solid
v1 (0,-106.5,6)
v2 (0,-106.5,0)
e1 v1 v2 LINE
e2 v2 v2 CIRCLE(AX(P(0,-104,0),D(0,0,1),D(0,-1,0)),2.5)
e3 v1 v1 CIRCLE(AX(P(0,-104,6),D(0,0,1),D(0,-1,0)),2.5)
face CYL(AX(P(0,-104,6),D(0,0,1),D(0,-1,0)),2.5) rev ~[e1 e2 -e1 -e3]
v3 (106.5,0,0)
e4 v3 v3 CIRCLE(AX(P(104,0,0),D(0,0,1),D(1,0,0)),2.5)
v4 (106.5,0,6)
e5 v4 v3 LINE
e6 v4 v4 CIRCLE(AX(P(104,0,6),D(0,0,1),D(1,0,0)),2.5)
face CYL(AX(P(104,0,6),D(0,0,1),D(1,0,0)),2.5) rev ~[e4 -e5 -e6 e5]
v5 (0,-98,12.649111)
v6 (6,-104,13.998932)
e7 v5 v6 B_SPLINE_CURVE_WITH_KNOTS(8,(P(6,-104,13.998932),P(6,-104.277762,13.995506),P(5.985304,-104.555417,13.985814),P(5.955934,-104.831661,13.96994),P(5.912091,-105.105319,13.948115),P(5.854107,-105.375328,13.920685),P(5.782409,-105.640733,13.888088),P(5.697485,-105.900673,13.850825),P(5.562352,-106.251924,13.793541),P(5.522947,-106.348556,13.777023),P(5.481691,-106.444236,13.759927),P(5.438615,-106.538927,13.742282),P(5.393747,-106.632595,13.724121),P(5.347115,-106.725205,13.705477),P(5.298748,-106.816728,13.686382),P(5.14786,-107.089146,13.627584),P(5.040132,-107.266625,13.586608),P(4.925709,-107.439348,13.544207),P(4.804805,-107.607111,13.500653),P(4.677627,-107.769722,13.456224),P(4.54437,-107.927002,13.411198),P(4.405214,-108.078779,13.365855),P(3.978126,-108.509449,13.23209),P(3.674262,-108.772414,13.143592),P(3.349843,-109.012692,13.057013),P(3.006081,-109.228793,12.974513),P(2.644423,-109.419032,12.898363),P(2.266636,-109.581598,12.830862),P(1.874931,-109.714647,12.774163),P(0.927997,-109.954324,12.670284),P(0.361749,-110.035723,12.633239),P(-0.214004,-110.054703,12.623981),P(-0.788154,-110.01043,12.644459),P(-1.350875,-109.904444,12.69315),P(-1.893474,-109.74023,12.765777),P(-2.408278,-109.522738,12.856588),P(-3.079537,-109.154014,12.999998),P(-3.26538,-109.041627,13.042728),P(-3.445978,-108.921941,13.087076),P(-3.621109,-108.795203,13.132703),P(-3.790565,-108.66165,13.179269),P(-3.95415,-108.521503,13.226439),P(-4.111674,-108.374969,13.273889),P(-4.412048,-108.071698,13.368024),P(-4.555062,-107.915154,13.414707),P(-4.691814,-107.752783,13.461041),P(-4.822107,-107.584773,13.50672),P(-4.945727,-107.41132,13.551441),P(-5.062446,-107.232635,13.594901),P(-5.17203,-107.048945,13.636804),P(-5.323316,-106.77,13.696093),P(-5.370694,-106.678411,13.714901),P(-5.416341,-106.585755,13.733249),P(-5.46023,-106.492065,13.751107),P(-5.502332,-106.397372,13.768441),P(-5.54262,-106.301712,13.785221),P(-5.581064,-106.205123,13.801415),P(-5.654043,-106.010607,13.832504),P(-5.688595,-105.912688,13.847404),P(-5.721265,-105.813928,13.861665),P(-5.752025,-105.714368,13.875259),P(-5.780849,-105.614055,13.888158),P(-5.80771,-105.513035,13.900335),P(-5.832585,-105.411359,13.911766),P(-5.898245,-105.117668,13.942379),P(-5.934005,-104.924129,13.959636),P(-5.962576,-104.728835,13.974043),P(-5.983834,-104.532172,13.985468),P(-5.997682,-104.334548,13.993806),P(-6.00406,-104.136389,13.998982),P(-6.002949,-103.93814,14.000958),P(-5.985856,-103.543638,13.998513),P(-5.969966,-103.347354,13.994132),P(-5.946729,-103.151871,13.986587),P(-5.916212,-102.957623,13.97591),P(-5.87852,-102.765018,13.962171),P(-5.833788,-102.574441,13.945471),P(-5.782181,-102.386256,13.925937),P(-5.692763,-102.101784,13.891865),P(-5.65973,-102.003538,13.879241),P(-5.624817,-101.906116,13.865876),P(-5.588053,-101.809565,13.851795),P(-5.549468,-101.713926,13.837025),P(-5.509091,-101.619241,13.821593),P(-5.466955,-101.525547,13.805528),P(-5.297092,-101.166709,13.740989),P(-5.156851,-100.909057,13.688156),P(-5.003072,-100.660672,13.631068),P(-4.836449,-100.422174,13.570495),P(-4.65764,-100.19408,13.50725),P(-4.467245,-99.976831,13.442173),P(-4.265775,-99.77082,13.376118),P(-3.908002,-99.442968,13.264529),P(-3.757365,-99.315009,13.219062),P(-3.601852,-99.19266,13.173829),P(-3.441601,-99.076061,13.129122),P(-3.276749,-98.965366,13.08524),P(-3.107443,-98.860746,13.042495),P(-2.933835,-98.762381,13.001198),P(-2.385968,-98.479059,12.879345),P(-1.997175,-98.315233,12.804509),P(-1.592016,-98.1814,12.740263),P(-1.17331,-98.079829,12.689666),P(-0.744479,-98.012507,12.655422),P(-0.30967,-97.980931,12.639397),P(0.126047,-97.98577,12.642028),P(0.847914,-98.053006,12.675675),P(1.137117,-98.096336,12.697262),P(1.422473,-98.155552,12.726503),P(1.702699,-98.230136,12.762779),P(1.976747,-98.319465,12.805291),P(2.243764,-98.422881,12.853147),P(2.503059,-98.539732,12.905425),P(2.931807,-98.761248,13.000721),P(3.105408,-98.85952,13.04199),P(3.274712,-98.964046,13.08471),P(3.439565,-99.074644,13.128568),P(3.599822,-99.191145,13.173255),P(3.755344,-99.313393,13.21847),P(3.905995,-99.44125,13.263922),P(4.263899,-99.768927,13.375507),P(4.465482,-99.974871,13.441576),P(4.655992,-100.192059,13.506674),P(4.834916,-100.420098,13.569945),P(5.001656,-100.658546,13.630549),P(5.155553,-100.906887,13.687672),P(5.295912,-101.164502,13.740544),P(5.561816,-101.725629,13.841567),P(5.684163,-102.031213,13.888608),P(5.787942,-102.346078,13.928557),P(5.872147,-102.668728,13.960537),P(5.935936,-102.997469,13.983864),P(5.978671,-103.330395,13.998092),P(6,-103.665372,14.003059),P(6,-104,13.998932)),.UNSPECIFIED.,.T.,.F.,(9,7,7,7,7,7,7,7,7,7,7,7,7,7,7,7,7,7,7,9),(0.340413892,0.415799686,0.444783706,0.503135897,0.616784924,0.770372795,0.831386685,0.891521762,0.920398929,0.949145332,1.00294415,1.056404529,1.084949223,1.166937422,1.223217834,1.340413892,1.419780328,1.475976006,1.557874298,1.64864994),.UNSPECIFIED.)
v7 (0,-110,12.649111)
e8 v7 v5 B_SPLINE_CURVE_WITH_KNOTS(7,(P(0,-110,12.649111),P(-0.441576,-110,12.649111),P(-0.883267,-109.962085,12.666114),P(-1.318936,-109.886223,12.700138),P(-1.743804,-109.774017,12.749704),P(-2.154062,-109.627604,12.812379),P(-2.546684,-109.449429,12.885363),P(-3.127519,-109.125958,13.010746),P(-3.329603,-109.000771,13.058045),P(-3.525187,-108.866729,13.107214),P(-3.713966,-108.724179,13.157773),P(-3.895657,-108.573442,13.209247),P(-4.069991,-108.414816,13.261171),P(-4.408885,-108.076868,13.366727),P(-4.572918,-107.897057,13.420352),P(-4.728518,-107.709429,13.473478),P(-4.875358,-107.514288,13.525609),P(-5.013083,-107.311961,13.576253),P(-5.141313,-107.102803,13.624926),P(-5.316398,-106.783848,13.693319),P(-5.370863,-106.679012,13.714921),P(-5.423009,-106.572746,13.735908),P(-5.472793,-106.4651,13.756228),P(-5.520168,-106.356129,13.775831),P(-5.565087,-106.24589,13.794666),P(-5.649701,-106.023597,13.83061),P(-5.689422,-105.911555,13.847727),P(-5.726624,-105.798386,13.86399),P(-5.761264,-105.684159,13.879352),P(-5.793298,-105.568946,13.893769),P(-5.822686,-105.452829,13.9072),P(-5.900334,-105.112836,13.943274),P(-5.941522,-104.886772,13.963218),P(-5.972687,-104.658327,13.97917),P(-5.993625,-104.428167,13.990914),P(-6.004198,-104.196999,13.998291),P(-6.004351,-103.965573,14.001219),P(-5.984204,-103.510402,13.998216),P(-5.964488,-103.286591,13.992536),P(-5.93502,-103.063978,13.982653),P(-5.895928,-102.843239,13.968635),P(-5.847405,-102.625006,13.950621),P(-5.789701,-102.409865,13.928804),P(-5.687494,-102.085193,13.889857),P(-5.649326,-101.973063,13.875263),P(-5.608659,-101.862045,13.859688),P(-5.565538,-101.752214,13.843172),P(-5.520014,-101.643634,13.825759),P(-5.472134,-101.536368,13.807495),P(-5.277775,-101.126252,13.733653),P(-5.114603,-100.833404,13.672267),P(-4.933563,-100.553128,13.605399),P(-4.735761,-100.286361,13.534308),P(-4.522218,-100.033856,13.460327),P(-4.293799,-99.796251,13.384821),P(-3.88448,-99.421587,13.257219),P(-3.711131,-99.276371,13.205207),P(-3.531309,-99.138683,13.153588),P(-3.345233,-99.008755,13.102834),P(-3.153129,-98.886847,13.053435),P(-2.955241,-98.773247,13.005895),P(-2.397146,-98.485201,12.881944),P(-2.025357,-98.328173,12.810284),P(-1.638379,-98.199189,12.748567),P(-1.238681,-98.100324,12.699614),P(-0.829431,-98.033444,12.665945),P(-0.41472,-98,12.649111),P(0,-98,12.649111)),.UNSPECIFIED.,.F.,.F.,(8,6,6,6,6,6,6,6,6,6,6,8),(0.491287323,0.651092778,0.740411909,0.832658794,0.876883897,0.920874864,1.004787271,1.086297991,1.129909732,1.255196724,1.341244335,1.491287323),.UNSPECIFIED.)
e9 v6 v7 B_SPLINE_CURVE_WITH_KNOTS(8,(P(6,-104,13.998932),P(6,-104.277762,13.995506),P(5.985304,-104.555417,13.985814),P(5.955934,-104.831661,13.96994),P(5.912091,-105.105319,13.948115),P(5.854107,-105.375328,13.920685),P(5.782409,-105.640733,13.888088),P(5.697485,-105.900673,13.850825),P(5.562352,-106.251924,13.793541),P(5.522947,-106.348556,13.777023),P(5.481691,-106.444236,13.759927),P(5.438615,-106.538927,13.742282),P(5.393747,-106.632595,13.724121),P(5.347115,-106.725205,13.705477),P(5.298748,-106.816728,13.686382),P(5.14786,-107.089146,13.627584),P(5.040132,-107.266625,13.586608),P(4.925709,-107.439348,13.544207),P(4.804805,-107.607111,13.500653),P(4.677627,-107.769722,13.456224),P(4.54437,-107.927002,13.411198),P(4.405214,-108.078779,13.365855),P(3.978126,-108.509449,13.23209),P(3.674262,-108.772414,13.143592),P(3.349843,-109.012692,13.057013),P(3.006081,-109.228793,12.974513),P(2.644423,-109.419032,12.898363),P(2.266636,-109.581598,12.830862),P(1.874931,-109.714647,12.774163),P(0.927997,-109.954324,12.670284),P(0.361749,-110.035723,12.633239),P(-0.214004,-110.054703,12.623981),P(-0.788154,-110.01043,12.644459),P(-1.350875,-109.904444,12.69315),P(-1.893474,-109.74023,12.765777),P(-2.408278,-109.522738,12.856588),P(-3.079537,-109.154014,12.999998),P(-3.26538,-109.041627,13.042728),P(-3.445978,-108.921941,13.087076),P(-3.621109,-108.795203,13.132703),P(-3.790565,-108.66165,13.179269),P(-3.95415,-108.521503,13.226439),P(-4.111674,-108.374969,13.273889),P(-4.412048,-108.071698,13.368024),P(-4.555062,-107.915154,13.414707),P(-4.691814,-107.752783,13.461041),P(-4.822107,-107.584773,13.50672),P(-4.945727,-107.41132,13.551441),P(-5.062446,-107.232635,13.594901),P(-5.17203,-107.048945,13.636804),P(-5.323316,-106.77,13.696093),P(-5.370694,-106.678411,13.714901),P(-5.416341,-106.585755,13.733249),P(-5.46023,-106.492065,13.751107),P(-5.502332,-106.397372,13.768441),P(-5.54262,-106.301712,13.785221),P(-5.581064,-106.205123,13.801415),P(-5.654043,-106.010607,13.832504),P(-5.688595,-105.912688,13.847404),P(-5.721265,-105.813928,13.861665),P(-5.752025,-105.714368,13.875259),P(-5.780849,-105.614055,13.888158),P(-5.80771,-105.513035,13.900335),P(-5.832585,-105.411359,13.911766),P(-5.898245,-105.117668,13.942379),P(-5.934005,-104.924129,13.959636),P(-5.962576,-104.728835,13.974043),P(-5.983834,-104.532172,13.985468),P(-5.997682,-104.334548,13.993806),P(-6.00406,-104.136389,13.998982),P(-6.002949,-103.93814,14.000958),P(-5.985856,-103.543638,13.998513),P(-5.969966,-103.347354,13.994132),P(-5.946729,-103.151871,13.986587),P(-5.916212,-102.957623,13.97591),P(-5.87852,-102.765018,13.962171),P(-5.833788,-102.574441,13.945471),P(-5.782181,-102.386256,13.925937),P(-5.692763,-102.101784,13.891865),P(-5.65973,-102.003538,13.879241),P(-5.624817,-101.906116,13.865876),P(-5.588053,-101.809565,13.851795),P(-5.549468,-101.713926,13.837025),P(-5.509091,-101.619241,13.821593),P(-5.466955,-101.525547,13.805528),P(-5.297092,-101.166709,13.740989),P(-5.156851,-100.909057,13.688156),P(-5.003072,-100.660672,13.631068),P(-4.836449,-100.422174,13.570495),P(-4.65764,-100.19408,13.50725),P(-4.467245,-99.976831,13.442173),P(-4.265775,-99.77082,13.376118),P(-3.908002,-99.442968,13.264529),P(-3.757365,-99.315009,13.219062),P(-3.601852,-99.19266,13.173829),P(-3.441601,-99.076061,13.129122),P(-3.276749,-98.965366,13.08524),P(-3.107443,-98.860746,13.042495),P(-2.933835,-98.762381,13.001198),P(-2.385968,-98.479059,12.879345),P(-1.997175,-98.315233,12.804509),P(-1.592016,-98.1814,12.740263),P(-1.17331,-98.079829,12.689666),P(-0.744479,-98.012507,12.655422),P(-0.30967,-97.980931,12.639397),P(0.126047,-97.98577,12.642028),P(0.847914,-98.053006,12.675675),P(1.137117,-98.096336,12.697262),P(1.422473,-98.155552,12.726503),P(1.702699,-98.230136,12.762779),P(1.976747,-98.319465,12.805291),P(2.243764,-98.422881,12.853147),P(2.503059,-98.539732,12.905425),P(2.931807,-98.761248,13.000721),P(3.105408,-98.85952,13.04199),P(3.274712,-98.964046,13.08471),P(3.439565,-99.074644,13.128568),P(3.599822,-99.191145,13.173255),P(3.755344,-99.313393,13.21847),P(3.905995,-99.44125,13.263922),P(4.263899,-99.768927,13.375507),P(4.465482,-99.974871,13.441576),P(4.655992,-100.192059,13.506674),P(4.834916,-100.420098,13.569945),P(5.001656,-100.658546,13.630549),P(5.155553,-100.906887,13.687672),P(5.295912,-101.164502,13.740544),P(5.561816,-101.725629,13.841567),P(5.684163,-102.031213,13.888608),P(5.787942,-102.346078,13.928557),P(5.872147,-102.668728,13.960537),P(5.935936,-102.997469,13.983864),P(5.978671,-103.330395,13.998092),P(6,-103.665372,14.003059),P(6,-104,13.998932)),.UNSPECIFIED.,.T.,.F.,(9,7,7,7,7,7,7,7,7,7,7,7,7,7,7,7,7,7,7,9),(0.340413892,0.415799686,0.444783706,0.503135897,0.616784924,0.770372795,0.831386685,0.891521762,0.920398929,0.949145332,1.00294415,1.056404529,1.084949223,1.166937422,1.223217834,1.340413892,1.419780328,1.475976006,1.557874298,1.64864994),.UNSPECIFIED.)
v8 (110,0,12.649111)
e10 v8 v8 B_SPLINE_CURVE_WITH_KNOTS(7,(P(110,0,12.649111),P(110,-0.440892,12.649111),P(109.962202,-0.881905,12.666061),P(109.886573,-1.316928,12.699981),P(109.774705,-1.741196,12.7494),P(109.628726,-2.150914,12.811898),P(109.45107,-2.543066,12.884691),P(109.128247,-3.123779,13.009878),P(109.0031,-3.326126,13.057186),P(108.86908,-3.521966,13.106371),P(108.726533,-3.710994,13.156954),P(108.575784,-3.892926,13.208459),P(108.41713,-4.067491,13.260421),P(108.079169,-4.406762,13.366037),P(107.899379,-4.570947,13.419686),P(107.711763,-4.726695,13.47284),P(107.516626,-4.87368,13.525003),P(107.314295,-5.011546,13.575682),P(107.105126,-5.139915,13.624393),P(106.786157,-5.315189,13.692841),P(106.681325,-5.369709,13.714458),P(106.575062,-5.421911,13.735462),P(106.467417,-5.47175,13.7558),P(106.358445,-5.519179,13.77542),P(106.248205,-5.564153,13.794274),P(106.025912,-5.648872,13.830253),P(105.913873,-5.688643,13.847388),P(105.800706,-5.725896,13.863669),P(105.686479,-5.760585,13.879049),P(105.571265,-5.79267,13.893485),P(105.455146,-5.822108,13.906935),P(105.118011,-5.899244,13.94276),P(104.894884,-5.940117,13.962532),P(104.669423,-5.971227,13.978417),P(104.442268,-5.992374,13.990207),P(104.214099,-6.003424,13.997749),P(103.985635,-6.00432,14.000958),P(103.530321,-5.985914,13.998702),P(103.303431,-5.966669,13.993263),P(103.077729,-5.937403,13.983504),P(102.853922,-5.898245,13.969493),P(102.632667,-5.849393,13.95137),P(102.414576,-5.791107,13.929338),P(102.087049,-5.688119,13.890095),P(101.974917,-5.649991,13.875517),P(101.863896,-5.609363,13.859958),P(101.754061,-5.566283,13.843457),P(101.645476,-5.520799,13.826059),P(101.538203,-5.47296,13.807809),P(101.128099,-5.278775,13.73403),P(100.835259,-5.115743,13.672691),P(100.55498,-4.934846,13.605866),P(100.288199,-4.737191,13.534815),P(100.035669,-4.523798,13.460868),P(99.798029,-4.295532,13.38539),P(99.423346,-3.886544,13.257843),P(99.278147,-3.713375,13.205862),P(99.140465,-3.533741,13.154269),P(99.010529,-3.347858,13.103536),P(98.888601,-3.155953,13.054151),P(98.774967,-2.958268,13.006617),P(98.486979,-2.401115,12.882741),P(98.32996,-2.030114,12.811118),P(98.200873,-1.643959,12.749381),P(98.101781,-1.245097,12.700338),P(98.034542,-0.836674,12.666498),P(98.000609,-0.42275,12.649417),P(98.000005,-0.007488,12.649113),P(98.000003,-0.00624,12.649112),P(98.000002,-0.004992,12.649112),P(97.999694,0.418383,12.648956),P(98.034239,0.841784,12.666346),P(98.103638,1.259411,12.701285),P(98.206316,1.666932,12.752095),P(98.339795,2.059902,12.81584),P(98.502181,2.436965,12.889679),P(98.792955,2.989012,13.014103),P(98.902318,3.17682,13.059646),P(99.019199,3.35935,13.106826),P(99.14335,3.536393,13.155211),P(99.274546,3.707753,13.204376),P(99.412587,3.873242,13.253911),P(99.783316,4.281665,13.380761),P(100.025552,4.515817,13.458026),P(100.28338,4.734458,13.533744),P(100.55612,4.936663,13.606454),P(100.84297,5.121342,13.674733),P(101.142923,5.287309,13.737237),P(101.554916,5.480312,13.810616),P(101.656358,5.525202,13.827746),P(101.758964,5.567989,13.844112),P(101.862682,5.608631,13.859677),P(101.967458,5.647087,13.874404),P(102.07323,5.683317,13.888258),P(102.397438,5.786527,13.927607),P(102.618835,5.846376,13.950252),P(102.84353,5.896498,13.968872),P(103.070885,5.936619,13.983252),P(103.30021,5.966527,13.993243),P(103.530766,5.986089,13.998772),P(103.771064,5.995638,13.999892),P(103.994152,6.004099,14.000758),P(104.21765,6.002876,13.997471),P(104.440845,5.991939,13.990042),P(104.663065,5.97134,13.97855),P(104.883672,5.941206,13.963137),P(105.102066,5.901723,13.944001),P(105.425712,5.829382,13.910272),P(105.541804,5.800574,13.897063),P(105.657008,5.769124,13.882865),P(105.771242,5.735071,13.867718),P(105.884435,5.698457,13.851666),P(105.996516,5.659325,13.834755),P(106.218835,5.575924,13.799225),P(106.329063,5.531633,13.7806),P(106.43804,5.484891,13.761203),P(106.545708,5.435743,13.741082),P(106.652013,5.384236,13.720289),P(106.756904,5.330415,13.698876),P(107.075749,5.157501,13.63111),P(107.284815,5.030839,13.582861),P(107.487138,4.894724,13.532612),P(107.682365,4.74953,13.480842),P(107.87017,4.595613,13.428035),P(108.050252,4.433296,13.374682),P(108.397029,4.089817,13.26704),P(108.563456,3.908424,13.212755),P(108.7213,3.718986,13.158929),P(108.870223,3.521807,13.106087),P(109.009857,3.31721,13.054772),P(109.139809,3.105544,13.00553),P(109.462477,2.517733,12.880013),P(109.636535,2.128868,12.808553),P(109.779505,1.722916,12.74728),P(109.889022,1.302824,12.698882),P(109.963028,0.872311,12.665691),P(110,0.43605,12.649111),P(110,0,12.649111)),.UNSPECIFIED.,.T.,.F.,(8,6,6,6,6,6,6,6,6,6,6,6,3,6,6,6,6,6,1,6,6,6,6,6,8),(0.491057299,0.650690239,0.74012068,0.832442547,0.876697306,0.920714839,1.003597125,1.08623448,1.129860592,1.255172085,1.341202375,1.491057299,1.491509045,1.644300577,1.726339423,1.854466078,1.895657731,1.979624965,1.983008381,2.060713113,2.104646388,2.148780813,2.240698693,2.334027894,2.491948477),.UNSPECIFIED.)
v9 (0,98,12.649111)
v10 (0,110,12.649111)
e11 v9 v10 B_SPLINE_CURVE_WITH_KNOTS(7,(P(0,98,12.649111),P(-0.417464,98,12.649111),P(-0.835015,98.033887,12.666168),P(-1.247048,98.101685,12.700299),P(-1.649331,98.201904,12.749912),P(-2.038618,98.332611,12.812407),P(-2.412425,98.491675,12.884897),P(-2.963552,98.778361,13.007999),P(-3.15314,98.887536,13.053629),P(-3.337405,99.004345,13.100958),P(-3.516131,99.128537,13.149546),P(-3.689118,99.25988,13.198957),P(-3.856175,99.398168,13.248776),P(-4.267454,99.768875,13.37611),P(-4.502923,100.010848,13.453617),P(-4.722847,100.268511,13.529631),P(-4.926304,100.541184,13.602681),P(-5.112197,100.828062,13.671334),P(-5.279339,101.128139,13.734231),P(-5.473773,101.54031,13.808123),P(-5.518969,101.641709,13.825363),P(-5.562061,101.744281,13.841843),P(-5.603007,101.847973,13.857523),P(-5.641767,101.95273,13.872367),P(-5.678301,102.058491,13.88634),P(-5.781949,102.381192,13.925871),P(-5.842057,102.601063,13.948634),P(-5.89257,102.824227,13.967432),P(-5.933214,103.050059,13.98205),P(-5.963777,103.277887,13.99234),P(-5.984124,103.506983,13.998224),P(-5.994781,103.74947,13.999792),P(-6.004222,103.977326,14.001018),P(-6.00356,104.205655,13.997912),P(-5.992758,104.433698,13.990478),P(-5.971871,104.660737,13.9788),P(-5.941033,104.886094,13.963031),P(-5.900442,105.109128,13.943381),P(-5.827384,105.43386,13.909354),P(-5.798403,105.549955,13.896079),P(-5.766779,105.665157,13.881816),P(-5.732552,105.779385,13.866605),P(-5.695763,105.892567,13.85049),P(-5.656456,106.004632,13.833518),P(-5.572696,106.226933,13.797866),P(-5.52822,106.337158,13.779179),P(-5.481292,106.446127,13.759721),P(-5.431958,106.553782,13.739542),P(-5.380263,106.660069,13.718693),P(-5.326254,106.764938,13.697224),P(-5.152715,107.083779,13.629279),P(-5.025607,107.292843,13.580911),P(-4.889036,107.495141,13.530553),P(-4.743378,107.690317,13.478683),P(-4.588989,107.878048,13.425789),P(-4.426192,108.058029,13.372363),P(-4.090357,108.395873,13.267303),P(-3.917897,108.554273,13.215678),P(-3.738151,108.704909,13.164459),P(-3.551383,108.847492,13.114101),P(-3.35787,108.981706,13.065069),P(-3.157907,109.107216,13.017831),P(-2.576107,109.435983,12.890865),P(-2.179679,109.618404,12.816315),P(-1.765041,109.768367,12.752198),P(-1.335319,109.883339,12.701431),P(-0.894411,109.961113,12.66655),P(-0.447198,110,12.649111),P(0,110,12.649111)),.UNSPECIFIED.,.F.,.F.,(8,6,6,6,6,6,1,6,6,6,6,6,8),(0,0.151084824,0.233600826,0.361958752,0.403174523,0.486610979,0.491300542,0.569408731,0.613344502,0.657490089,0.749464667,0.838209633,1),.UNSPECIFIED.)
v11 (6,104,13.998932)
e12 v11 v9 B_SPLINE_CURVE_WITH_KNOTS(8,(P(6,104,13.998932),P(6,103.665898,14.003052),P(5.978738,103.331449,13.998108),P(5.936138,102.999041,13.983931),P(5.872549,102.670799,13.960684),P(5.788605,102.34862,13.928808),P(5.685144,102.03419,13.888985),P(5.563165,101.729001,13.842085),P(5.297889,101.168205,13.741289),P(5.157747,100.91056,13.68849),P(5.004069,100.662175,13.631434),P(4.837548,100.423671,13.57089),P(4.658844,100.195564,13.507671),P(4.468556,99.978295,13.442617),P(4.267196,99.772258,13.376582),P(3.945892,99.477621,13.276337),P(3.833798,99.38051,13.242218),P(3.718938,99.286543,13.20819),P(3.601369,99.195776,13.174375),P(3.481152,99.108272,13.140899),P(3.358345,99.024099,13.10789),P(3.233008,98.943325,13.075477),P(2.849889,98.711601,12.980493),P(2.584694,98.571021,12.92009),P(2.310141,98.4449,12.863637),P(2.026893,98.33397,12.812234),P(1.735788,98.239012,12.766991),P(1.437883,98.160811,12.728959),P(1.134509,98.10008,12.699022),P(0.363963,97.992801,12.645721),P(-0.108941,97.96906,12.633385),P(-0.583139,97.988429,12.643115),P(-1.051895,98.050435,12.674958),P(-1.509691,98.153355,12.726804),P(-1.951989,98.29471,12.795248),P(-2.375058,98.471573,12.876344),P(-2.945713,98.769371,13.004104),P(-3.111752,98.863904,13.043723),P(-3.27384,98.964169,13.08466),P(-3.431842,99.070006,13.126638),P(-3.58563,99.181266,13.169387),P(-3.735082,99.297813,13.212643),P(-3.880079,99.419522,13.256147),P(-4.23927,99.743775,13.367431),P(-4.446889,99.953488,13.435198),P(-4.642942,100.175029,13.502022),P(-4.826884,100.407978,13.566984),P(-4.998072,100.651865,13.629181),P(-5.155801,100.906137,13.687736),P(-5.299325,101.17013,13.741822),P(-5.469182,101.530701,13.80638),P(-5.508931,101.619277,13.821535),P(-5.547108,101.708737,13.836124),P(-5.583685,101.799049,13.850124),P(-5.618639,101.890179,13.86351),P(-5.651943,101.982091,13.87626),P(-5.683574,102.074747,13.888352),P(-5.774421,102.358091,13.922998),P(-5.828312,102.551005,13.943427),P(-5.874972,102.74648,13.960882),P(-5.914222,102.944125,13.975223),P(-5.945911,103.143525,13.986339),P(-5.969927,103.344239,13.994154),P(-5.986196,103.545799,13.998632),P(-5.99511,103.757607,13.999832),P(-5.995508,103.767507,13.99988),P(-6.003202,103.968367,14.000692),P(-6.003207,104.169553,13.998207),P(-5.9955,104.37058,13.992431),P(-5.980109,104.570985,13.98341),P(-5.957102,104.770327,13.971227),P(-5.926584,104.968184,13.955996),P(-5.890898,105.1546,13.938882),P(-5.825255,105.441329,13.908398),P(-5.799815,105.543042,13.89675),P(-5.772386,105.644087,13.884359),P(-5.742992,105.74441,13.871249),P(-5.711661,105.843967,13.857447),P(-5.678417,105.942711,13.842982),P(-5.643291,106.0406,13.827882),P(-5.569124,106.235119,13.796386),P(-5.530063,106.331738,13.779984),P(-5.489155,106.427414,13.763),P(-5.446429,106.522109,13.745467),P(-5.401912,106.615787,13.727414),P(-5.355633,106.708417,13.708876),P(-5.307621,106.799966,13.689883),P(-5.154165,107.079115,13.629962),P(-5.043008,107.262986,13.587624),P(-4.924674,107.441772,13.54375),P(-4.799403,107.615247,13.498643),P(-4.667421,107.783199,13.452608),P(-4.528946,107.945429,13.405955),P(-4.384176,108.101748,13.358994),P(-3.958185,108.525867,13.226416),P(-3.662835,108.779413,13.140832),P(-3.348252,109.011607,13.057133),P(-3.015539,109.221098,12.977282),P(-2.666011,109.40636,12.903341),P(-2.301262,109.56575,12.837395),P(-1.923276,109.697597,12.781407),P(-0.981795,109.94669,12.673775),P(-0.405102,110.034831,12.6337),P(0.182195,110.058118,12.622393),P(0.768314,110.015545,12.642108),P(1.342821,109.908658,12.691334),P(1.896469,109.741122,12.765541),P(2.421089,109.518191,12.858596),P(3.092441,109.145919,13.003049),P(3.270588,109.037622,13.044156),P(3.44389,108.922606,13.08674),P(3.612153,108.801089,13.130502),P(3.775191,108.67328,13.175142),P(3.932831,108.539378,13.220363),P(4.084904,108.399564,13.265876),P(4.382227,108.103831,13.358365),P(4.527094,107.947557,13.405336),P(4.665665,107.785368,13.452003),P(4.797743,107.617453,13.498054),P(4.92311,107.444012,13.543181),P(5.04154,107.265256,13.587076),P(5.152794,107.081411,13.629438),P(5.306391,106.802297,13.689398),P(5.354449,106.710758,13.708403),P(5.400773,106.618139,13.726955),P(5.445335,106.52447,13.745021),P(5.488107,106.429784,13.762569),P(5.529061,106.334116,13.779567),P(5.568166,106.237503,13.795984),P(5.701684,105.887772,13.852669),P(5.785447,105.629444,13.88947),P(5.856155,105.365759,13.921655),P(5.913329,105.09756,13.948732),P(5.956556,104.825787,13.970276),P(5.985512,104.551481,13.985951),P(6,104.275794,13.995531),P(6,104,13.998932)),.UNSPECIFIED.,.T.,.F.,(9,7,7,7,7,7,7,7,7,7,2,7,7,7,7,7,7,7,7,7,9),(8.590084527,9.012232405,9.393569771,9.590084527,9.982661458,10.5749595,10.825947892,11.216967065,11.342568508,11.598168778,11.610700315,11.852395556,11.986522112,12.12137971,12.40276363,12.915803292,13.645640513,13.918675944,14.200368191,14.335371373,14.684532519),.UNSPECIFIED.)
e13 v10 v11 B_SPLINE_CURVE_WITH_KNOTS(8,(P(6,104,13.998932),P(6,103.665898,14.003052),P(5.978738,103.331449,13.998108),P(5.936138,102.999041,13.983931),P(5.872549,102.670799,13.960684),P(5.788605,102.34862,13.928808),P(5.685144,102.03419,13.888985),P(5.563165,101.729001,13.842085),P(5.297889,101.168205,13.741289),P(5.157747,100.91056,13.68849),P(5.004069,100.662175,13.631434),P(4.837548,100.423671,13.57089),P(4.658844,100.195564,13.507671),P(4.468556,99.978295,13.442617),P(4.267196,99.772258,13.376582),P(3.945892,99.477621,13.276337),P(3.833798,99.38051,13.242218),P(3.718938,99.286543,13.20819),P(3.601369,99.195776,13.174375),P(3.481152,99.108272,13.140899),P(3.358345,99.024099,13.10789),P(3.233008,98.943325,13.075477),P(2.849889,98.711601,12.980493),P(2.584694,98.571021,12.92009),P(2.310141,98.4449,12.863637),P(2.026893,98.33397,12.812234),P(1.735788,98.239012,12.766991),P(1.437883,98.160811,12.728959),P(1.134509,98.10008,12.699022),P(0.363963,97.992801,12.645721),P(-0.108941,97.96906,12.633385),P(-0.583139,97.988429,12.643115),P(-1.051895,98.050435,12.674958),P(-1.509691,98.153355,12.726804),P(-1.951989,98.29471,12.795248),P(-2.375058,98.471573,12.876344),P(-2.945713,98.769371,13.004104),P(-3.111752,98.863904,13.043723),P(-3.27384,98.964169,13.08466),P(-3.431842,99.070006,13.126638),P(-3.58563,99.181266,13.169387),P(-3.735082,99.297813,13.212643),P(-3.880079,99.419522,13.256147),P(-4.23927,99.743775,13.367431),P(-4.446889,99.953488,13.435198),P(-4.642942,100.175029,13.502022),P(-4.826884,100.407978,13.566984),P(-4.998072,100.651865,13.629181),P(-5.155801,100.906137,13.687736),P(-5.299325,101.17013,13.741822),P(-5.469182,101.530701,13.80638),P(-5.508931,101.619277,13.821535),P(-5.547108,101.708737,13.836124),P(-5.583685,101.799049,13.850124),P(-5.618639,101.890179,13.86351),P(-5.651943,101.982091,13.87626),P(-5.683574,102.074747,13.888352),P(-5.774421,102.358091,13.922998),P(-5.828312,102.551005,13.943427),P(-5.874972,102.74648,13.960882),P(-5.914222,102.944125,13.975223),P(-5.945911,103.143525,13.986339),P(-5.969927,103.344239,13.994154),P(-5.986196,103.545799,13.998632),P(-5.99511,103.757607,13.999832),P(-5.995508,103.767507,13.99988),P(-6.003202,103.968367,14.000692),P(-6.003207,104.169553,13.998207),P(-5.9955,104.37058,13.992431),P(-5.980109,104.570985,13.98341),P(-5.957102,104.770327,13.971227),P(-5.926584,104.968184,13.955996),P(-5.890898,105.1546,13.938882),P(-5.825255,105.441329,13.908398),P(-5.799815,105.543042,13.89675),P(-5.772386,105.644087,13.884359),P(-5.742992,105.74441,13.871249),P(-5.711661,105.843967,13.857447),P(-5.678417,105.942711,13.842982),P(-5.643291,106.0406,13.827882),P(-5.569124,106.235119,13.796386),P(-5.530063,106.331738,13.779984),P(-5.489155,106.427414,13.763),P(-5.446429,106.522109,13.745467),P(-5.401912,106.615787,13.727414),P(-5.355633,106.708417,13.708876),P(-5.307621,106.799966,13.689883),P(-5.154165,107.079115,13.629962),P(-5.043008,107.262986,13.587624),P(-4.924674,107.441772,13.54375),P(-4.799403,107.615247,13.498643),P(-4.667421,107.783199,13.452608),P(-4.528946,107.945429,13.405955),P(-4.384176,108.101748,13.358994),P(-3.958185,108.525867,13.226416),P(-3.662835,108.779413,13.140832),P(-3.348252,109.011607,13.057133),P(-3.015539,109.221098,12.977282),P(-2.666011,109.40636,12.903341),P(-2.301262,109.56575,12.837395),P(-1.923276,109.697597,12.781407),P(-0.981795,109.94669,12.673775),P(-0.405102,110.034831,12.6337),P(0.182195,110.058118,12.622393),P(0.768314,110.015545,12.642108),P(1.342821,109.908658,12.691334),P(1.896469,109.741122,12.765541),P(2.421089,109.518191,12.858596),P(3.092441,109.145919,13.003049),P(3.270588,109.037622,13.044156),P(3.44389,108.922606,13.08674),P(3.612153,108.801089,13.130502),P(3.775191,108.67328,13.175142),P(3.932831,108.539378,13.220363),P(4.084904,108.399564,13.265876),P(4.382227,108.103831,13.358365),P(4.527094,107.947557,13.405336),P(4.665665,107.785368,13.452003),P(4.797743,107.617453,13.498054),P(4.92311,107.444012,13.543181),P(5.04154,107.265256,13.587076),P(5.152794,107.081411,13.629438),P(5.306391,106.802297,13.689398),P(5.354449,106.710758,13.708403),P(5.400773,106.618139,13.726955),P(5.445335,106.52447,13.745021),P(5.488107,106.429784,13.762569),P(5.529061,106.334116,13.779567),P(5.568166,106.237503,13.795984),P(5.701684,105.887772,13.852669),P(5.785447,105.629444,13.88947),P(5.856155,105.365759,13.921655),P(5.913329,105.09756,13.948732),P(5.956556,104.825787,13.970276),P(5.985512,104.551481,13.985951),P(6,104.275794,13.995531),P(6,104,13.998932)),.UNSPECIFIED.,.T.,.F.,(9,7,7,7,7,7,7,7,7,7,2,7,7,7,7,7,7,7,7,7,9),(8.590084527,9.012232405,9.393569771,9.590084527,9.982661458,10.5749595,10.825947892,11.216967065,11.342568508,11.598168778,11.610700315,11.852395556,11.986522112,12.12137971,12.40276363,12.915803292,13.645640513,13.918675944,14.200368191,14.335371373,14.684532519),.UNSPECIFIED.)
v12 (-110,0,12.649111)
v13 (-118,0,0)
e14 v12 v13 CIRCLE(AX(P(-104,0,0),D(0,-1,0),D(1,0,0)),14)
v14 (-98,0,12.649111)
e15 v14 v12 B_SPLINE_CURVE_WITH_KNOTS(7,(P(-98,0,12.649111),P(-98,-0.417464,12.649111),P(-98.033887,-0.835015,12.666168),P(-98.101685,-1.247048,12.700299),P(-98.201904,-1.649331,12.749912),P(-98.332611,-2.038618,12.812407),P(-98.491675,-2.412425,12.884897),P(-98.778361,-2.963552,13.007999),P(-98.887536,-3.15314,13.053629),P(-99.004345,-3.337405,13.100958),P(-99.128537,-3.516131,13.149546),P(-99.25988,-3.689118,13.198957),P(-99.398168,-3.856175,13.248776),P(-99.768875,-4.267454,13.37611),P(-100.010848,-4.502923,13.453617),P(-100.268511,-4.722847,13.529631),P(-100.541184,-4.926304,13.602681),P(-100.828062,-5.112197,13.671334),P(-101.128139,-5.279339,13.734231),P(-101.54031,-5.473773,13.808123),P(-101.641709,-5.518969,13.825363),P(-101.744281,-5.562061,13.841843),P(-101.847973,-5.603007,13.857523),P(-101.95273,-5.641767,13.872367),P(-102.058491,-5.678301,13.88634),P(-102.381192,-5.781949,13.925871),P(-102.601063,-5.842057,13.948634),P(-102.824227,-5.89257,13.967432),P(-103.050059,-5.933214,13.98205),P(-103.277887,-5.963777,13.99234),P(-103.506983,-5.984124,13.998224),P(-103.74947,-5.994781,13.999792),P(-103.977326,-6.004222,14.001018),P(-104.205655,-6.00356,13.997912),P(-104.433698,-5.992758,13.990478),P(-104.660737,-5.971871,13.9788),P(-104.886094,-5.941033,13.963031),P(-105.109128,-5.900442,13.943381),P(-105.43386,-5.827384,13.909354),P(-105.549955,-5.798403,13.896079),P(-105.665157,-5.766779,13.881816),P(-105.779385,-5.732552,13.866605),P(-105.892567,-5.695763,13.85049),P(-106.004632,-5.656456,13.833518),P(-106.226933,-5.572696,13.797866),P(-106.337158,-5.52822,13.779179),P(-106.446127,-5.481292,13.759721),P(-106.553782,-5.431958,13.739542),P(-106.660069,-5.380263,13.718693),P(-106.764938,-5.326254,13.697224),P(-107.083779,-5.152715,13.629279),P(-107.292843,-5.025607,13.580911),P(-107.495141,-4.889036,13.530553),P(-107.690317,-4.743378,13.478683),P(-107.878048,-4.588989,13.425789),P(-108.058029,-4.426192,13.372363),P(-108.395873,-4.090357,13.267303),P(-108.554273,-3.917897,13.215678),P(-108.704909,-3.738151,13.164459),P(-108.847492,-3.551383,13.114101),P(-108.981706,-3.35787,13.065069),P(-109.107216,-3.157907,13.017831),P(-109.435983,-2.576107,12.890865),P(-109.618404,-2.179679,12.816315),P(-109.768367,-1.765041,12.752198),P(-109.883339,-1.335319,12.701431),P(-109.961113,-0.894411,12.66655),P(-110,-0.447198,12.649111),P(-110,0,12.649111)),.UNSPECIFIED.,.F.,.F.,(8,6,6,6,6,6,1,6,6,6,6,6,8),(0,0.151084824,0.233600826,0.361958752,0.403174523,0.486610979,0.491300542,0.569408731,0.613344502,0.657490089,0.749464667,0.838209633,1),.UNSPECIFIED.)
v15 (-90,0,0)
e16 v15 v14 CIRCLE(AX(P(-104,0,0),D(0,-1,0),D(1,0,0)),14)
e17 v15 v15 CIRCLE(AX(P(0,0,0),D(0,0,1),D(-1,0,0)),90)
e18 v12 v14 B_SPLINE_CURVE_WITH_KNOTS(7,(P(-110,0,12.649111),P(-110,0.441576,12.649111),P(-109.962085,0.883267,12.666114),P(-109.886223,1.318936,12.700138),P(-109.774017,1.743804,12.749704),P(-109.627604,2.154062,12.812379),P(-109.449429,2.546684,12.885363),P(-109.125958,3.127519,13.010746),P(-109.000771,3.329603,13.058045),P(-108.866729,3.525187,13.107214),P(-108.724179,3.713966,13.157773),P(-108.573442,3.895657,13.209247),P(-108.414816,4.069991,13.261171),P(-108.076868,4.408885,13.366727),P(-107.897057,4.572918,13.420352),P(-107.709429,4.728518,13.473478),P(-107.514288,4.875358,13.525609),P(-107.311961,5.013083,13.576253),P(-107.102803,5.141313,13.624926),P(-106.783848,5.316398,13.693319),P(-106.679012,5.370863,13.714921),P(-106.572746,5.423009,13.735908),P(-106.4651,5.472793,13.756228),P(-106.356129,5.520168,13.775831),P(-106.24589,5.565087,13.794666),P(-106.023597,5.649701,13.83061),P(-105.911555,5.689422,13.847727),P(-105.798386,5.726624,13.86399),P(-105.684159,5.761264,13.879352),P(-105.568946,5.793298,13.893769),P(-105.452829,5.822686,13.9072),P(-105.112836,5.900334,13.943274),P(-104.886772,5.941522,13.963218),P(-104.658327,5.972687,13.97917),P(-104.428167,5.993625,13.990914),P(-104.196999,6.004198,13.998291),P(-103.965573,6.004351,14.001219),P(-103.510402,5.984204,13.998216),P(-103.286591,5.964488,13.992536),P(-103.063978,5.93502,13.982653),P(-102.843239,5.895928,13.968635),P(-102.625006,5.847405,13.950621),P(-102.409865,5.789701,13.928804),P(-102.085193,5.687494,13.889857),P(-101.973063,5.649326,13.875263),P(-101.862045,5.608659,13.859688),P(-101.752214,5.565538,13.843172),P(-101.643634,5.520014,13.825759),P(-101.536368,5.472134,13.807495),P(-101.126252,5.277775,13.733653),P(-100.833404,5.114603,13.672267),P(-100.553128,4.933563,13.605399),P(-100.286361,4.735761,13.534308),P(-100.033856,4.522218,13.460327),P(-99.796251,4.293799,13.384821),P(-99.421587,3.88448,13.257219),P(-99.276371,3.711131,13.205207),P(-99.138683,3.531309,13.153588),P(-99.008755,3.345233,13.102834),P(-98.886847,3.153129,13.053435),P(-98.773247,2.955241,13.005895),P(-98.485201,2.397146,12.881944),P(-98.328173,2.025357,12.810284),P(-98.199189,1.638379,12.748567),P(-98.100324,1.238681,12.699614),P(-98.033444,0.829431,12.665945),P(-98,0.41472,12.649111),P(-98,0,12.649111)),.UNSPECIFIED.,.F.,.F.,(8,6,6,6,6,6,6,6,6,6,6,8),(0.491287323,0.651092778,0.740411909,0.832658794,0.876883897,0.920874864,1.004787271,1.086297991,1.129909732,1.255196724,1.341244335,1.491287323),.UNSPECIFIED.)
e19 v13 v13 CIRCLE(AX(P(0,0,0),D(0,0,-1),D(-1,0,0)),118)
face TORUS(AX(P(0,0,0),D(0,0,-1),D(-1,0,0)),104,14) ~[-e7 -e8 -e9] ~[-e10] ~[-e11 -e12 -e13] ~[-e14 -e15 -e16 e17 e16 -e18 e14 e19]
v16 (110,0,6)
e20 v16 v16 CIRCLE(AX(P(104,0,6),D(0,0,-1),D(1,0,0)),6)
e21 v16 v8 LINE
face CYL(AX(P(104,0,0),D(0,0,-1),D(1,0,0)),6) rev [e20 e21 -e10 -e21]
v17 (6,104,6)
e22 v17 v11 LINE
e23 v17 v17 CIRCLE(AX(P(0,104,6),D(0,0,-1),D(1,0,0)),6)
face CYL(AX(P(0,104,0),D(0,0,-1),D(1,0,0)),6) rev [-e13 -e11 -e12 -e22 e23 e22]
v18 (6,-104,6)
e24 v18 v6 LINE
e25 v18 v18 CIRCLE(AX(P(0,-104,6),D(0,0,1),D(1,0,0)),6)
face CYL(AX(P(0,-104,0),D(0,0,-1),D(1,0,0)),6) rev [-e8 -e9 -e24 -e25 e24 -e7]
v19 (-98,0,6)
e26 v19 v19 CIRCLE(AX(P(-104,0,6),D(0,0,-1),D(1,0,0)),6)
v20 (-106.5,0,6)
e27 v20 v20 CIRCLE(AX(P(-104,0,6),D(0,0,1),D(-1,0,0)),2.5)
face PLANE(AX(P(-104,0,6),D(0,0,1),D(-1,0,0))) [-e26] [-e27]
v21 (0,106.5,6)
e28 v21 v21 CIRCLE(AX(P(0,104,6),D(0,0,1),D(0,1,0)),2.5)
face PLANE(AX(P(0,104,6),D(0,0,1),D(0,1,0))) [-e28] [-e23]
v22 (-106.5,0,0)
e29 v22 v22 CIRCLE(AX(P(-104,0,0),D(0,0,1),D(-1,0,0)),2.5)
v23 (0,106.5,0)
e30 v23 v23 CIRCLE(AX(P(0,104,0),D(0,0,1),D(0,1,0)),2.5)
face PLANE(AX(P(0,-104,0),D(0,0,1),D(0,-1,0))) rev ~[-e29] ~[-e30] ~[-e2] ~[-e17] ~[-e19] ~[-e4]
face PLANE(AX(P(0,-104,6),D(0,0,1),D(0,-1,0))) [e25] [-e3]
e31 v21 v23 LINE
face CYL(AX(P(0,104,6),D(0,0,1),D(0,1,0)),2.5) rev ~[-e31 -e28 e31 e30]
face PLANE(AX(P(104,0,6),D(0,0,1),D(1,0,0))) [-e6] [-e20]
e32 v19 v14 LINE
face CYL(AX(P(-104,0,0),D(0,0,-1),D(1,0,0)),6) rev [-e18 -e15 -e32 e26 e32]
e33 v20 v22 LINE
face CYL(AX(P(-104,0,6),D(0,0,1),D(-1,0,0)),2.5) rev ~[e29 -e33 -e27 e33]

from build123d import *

# Parameters (mm, degrees)
F2_R     = 6
F3_DEPTH = 14
F5_R     = 6
F5_R_2   = 2.5
F6_DEPTH = 6
F7_COUNT = 4


with BuildPart() as f1:
    # F0 (on Front) → F1 (revolve)
    with BuildSketch(Plane.XZ):
        with BuildLine():
            Line((-118, 0), (-90, 0))
            ThreePointArc((-90, 0), (-104, 14), (-118, 0))
        make_face()
    revolve(axis=Axis((0, 0, 34.595653), (0, 0, 1)))

    # F2 (on Top) → F3 (cut)
    with BuildSketch(Plane.XY):
        with Locations((0, -104)):
            Circle(F2_R)
        with Locations((104, 0)):
            Circle(F2_R)
        with Locations((0, 104)):
            Circle(F2_R)
        with Locations((-104, 0)):
            Circle(F2_R)
    extrude(amount=F3_DEPTH, mode=Mode.SUBTRACT)

    # F5 (on offset) → F6 (join)
    with BuildSketch(Plane.XY.offset(6)):
        with Locations((104, 0)):
            Circle(F5_R)
        with Locations((104, 0)):
            Circle(F5_R_2, mode=Mode.SUBTRACT)
    extrude(amount=-F6_DEPTH)

    # F7: F1 ×4 about axis
    f7_axis = Axis((0, 0, 34.595653), (0, 0, 1))


with BuildPart() as f1_1:
    add(f1.part)
    for i in range(1, F7_COUNT):
        add(f1.part.rotate(f7_axis, i * 360 / F7_COUNT))


solid = f1_1.part
